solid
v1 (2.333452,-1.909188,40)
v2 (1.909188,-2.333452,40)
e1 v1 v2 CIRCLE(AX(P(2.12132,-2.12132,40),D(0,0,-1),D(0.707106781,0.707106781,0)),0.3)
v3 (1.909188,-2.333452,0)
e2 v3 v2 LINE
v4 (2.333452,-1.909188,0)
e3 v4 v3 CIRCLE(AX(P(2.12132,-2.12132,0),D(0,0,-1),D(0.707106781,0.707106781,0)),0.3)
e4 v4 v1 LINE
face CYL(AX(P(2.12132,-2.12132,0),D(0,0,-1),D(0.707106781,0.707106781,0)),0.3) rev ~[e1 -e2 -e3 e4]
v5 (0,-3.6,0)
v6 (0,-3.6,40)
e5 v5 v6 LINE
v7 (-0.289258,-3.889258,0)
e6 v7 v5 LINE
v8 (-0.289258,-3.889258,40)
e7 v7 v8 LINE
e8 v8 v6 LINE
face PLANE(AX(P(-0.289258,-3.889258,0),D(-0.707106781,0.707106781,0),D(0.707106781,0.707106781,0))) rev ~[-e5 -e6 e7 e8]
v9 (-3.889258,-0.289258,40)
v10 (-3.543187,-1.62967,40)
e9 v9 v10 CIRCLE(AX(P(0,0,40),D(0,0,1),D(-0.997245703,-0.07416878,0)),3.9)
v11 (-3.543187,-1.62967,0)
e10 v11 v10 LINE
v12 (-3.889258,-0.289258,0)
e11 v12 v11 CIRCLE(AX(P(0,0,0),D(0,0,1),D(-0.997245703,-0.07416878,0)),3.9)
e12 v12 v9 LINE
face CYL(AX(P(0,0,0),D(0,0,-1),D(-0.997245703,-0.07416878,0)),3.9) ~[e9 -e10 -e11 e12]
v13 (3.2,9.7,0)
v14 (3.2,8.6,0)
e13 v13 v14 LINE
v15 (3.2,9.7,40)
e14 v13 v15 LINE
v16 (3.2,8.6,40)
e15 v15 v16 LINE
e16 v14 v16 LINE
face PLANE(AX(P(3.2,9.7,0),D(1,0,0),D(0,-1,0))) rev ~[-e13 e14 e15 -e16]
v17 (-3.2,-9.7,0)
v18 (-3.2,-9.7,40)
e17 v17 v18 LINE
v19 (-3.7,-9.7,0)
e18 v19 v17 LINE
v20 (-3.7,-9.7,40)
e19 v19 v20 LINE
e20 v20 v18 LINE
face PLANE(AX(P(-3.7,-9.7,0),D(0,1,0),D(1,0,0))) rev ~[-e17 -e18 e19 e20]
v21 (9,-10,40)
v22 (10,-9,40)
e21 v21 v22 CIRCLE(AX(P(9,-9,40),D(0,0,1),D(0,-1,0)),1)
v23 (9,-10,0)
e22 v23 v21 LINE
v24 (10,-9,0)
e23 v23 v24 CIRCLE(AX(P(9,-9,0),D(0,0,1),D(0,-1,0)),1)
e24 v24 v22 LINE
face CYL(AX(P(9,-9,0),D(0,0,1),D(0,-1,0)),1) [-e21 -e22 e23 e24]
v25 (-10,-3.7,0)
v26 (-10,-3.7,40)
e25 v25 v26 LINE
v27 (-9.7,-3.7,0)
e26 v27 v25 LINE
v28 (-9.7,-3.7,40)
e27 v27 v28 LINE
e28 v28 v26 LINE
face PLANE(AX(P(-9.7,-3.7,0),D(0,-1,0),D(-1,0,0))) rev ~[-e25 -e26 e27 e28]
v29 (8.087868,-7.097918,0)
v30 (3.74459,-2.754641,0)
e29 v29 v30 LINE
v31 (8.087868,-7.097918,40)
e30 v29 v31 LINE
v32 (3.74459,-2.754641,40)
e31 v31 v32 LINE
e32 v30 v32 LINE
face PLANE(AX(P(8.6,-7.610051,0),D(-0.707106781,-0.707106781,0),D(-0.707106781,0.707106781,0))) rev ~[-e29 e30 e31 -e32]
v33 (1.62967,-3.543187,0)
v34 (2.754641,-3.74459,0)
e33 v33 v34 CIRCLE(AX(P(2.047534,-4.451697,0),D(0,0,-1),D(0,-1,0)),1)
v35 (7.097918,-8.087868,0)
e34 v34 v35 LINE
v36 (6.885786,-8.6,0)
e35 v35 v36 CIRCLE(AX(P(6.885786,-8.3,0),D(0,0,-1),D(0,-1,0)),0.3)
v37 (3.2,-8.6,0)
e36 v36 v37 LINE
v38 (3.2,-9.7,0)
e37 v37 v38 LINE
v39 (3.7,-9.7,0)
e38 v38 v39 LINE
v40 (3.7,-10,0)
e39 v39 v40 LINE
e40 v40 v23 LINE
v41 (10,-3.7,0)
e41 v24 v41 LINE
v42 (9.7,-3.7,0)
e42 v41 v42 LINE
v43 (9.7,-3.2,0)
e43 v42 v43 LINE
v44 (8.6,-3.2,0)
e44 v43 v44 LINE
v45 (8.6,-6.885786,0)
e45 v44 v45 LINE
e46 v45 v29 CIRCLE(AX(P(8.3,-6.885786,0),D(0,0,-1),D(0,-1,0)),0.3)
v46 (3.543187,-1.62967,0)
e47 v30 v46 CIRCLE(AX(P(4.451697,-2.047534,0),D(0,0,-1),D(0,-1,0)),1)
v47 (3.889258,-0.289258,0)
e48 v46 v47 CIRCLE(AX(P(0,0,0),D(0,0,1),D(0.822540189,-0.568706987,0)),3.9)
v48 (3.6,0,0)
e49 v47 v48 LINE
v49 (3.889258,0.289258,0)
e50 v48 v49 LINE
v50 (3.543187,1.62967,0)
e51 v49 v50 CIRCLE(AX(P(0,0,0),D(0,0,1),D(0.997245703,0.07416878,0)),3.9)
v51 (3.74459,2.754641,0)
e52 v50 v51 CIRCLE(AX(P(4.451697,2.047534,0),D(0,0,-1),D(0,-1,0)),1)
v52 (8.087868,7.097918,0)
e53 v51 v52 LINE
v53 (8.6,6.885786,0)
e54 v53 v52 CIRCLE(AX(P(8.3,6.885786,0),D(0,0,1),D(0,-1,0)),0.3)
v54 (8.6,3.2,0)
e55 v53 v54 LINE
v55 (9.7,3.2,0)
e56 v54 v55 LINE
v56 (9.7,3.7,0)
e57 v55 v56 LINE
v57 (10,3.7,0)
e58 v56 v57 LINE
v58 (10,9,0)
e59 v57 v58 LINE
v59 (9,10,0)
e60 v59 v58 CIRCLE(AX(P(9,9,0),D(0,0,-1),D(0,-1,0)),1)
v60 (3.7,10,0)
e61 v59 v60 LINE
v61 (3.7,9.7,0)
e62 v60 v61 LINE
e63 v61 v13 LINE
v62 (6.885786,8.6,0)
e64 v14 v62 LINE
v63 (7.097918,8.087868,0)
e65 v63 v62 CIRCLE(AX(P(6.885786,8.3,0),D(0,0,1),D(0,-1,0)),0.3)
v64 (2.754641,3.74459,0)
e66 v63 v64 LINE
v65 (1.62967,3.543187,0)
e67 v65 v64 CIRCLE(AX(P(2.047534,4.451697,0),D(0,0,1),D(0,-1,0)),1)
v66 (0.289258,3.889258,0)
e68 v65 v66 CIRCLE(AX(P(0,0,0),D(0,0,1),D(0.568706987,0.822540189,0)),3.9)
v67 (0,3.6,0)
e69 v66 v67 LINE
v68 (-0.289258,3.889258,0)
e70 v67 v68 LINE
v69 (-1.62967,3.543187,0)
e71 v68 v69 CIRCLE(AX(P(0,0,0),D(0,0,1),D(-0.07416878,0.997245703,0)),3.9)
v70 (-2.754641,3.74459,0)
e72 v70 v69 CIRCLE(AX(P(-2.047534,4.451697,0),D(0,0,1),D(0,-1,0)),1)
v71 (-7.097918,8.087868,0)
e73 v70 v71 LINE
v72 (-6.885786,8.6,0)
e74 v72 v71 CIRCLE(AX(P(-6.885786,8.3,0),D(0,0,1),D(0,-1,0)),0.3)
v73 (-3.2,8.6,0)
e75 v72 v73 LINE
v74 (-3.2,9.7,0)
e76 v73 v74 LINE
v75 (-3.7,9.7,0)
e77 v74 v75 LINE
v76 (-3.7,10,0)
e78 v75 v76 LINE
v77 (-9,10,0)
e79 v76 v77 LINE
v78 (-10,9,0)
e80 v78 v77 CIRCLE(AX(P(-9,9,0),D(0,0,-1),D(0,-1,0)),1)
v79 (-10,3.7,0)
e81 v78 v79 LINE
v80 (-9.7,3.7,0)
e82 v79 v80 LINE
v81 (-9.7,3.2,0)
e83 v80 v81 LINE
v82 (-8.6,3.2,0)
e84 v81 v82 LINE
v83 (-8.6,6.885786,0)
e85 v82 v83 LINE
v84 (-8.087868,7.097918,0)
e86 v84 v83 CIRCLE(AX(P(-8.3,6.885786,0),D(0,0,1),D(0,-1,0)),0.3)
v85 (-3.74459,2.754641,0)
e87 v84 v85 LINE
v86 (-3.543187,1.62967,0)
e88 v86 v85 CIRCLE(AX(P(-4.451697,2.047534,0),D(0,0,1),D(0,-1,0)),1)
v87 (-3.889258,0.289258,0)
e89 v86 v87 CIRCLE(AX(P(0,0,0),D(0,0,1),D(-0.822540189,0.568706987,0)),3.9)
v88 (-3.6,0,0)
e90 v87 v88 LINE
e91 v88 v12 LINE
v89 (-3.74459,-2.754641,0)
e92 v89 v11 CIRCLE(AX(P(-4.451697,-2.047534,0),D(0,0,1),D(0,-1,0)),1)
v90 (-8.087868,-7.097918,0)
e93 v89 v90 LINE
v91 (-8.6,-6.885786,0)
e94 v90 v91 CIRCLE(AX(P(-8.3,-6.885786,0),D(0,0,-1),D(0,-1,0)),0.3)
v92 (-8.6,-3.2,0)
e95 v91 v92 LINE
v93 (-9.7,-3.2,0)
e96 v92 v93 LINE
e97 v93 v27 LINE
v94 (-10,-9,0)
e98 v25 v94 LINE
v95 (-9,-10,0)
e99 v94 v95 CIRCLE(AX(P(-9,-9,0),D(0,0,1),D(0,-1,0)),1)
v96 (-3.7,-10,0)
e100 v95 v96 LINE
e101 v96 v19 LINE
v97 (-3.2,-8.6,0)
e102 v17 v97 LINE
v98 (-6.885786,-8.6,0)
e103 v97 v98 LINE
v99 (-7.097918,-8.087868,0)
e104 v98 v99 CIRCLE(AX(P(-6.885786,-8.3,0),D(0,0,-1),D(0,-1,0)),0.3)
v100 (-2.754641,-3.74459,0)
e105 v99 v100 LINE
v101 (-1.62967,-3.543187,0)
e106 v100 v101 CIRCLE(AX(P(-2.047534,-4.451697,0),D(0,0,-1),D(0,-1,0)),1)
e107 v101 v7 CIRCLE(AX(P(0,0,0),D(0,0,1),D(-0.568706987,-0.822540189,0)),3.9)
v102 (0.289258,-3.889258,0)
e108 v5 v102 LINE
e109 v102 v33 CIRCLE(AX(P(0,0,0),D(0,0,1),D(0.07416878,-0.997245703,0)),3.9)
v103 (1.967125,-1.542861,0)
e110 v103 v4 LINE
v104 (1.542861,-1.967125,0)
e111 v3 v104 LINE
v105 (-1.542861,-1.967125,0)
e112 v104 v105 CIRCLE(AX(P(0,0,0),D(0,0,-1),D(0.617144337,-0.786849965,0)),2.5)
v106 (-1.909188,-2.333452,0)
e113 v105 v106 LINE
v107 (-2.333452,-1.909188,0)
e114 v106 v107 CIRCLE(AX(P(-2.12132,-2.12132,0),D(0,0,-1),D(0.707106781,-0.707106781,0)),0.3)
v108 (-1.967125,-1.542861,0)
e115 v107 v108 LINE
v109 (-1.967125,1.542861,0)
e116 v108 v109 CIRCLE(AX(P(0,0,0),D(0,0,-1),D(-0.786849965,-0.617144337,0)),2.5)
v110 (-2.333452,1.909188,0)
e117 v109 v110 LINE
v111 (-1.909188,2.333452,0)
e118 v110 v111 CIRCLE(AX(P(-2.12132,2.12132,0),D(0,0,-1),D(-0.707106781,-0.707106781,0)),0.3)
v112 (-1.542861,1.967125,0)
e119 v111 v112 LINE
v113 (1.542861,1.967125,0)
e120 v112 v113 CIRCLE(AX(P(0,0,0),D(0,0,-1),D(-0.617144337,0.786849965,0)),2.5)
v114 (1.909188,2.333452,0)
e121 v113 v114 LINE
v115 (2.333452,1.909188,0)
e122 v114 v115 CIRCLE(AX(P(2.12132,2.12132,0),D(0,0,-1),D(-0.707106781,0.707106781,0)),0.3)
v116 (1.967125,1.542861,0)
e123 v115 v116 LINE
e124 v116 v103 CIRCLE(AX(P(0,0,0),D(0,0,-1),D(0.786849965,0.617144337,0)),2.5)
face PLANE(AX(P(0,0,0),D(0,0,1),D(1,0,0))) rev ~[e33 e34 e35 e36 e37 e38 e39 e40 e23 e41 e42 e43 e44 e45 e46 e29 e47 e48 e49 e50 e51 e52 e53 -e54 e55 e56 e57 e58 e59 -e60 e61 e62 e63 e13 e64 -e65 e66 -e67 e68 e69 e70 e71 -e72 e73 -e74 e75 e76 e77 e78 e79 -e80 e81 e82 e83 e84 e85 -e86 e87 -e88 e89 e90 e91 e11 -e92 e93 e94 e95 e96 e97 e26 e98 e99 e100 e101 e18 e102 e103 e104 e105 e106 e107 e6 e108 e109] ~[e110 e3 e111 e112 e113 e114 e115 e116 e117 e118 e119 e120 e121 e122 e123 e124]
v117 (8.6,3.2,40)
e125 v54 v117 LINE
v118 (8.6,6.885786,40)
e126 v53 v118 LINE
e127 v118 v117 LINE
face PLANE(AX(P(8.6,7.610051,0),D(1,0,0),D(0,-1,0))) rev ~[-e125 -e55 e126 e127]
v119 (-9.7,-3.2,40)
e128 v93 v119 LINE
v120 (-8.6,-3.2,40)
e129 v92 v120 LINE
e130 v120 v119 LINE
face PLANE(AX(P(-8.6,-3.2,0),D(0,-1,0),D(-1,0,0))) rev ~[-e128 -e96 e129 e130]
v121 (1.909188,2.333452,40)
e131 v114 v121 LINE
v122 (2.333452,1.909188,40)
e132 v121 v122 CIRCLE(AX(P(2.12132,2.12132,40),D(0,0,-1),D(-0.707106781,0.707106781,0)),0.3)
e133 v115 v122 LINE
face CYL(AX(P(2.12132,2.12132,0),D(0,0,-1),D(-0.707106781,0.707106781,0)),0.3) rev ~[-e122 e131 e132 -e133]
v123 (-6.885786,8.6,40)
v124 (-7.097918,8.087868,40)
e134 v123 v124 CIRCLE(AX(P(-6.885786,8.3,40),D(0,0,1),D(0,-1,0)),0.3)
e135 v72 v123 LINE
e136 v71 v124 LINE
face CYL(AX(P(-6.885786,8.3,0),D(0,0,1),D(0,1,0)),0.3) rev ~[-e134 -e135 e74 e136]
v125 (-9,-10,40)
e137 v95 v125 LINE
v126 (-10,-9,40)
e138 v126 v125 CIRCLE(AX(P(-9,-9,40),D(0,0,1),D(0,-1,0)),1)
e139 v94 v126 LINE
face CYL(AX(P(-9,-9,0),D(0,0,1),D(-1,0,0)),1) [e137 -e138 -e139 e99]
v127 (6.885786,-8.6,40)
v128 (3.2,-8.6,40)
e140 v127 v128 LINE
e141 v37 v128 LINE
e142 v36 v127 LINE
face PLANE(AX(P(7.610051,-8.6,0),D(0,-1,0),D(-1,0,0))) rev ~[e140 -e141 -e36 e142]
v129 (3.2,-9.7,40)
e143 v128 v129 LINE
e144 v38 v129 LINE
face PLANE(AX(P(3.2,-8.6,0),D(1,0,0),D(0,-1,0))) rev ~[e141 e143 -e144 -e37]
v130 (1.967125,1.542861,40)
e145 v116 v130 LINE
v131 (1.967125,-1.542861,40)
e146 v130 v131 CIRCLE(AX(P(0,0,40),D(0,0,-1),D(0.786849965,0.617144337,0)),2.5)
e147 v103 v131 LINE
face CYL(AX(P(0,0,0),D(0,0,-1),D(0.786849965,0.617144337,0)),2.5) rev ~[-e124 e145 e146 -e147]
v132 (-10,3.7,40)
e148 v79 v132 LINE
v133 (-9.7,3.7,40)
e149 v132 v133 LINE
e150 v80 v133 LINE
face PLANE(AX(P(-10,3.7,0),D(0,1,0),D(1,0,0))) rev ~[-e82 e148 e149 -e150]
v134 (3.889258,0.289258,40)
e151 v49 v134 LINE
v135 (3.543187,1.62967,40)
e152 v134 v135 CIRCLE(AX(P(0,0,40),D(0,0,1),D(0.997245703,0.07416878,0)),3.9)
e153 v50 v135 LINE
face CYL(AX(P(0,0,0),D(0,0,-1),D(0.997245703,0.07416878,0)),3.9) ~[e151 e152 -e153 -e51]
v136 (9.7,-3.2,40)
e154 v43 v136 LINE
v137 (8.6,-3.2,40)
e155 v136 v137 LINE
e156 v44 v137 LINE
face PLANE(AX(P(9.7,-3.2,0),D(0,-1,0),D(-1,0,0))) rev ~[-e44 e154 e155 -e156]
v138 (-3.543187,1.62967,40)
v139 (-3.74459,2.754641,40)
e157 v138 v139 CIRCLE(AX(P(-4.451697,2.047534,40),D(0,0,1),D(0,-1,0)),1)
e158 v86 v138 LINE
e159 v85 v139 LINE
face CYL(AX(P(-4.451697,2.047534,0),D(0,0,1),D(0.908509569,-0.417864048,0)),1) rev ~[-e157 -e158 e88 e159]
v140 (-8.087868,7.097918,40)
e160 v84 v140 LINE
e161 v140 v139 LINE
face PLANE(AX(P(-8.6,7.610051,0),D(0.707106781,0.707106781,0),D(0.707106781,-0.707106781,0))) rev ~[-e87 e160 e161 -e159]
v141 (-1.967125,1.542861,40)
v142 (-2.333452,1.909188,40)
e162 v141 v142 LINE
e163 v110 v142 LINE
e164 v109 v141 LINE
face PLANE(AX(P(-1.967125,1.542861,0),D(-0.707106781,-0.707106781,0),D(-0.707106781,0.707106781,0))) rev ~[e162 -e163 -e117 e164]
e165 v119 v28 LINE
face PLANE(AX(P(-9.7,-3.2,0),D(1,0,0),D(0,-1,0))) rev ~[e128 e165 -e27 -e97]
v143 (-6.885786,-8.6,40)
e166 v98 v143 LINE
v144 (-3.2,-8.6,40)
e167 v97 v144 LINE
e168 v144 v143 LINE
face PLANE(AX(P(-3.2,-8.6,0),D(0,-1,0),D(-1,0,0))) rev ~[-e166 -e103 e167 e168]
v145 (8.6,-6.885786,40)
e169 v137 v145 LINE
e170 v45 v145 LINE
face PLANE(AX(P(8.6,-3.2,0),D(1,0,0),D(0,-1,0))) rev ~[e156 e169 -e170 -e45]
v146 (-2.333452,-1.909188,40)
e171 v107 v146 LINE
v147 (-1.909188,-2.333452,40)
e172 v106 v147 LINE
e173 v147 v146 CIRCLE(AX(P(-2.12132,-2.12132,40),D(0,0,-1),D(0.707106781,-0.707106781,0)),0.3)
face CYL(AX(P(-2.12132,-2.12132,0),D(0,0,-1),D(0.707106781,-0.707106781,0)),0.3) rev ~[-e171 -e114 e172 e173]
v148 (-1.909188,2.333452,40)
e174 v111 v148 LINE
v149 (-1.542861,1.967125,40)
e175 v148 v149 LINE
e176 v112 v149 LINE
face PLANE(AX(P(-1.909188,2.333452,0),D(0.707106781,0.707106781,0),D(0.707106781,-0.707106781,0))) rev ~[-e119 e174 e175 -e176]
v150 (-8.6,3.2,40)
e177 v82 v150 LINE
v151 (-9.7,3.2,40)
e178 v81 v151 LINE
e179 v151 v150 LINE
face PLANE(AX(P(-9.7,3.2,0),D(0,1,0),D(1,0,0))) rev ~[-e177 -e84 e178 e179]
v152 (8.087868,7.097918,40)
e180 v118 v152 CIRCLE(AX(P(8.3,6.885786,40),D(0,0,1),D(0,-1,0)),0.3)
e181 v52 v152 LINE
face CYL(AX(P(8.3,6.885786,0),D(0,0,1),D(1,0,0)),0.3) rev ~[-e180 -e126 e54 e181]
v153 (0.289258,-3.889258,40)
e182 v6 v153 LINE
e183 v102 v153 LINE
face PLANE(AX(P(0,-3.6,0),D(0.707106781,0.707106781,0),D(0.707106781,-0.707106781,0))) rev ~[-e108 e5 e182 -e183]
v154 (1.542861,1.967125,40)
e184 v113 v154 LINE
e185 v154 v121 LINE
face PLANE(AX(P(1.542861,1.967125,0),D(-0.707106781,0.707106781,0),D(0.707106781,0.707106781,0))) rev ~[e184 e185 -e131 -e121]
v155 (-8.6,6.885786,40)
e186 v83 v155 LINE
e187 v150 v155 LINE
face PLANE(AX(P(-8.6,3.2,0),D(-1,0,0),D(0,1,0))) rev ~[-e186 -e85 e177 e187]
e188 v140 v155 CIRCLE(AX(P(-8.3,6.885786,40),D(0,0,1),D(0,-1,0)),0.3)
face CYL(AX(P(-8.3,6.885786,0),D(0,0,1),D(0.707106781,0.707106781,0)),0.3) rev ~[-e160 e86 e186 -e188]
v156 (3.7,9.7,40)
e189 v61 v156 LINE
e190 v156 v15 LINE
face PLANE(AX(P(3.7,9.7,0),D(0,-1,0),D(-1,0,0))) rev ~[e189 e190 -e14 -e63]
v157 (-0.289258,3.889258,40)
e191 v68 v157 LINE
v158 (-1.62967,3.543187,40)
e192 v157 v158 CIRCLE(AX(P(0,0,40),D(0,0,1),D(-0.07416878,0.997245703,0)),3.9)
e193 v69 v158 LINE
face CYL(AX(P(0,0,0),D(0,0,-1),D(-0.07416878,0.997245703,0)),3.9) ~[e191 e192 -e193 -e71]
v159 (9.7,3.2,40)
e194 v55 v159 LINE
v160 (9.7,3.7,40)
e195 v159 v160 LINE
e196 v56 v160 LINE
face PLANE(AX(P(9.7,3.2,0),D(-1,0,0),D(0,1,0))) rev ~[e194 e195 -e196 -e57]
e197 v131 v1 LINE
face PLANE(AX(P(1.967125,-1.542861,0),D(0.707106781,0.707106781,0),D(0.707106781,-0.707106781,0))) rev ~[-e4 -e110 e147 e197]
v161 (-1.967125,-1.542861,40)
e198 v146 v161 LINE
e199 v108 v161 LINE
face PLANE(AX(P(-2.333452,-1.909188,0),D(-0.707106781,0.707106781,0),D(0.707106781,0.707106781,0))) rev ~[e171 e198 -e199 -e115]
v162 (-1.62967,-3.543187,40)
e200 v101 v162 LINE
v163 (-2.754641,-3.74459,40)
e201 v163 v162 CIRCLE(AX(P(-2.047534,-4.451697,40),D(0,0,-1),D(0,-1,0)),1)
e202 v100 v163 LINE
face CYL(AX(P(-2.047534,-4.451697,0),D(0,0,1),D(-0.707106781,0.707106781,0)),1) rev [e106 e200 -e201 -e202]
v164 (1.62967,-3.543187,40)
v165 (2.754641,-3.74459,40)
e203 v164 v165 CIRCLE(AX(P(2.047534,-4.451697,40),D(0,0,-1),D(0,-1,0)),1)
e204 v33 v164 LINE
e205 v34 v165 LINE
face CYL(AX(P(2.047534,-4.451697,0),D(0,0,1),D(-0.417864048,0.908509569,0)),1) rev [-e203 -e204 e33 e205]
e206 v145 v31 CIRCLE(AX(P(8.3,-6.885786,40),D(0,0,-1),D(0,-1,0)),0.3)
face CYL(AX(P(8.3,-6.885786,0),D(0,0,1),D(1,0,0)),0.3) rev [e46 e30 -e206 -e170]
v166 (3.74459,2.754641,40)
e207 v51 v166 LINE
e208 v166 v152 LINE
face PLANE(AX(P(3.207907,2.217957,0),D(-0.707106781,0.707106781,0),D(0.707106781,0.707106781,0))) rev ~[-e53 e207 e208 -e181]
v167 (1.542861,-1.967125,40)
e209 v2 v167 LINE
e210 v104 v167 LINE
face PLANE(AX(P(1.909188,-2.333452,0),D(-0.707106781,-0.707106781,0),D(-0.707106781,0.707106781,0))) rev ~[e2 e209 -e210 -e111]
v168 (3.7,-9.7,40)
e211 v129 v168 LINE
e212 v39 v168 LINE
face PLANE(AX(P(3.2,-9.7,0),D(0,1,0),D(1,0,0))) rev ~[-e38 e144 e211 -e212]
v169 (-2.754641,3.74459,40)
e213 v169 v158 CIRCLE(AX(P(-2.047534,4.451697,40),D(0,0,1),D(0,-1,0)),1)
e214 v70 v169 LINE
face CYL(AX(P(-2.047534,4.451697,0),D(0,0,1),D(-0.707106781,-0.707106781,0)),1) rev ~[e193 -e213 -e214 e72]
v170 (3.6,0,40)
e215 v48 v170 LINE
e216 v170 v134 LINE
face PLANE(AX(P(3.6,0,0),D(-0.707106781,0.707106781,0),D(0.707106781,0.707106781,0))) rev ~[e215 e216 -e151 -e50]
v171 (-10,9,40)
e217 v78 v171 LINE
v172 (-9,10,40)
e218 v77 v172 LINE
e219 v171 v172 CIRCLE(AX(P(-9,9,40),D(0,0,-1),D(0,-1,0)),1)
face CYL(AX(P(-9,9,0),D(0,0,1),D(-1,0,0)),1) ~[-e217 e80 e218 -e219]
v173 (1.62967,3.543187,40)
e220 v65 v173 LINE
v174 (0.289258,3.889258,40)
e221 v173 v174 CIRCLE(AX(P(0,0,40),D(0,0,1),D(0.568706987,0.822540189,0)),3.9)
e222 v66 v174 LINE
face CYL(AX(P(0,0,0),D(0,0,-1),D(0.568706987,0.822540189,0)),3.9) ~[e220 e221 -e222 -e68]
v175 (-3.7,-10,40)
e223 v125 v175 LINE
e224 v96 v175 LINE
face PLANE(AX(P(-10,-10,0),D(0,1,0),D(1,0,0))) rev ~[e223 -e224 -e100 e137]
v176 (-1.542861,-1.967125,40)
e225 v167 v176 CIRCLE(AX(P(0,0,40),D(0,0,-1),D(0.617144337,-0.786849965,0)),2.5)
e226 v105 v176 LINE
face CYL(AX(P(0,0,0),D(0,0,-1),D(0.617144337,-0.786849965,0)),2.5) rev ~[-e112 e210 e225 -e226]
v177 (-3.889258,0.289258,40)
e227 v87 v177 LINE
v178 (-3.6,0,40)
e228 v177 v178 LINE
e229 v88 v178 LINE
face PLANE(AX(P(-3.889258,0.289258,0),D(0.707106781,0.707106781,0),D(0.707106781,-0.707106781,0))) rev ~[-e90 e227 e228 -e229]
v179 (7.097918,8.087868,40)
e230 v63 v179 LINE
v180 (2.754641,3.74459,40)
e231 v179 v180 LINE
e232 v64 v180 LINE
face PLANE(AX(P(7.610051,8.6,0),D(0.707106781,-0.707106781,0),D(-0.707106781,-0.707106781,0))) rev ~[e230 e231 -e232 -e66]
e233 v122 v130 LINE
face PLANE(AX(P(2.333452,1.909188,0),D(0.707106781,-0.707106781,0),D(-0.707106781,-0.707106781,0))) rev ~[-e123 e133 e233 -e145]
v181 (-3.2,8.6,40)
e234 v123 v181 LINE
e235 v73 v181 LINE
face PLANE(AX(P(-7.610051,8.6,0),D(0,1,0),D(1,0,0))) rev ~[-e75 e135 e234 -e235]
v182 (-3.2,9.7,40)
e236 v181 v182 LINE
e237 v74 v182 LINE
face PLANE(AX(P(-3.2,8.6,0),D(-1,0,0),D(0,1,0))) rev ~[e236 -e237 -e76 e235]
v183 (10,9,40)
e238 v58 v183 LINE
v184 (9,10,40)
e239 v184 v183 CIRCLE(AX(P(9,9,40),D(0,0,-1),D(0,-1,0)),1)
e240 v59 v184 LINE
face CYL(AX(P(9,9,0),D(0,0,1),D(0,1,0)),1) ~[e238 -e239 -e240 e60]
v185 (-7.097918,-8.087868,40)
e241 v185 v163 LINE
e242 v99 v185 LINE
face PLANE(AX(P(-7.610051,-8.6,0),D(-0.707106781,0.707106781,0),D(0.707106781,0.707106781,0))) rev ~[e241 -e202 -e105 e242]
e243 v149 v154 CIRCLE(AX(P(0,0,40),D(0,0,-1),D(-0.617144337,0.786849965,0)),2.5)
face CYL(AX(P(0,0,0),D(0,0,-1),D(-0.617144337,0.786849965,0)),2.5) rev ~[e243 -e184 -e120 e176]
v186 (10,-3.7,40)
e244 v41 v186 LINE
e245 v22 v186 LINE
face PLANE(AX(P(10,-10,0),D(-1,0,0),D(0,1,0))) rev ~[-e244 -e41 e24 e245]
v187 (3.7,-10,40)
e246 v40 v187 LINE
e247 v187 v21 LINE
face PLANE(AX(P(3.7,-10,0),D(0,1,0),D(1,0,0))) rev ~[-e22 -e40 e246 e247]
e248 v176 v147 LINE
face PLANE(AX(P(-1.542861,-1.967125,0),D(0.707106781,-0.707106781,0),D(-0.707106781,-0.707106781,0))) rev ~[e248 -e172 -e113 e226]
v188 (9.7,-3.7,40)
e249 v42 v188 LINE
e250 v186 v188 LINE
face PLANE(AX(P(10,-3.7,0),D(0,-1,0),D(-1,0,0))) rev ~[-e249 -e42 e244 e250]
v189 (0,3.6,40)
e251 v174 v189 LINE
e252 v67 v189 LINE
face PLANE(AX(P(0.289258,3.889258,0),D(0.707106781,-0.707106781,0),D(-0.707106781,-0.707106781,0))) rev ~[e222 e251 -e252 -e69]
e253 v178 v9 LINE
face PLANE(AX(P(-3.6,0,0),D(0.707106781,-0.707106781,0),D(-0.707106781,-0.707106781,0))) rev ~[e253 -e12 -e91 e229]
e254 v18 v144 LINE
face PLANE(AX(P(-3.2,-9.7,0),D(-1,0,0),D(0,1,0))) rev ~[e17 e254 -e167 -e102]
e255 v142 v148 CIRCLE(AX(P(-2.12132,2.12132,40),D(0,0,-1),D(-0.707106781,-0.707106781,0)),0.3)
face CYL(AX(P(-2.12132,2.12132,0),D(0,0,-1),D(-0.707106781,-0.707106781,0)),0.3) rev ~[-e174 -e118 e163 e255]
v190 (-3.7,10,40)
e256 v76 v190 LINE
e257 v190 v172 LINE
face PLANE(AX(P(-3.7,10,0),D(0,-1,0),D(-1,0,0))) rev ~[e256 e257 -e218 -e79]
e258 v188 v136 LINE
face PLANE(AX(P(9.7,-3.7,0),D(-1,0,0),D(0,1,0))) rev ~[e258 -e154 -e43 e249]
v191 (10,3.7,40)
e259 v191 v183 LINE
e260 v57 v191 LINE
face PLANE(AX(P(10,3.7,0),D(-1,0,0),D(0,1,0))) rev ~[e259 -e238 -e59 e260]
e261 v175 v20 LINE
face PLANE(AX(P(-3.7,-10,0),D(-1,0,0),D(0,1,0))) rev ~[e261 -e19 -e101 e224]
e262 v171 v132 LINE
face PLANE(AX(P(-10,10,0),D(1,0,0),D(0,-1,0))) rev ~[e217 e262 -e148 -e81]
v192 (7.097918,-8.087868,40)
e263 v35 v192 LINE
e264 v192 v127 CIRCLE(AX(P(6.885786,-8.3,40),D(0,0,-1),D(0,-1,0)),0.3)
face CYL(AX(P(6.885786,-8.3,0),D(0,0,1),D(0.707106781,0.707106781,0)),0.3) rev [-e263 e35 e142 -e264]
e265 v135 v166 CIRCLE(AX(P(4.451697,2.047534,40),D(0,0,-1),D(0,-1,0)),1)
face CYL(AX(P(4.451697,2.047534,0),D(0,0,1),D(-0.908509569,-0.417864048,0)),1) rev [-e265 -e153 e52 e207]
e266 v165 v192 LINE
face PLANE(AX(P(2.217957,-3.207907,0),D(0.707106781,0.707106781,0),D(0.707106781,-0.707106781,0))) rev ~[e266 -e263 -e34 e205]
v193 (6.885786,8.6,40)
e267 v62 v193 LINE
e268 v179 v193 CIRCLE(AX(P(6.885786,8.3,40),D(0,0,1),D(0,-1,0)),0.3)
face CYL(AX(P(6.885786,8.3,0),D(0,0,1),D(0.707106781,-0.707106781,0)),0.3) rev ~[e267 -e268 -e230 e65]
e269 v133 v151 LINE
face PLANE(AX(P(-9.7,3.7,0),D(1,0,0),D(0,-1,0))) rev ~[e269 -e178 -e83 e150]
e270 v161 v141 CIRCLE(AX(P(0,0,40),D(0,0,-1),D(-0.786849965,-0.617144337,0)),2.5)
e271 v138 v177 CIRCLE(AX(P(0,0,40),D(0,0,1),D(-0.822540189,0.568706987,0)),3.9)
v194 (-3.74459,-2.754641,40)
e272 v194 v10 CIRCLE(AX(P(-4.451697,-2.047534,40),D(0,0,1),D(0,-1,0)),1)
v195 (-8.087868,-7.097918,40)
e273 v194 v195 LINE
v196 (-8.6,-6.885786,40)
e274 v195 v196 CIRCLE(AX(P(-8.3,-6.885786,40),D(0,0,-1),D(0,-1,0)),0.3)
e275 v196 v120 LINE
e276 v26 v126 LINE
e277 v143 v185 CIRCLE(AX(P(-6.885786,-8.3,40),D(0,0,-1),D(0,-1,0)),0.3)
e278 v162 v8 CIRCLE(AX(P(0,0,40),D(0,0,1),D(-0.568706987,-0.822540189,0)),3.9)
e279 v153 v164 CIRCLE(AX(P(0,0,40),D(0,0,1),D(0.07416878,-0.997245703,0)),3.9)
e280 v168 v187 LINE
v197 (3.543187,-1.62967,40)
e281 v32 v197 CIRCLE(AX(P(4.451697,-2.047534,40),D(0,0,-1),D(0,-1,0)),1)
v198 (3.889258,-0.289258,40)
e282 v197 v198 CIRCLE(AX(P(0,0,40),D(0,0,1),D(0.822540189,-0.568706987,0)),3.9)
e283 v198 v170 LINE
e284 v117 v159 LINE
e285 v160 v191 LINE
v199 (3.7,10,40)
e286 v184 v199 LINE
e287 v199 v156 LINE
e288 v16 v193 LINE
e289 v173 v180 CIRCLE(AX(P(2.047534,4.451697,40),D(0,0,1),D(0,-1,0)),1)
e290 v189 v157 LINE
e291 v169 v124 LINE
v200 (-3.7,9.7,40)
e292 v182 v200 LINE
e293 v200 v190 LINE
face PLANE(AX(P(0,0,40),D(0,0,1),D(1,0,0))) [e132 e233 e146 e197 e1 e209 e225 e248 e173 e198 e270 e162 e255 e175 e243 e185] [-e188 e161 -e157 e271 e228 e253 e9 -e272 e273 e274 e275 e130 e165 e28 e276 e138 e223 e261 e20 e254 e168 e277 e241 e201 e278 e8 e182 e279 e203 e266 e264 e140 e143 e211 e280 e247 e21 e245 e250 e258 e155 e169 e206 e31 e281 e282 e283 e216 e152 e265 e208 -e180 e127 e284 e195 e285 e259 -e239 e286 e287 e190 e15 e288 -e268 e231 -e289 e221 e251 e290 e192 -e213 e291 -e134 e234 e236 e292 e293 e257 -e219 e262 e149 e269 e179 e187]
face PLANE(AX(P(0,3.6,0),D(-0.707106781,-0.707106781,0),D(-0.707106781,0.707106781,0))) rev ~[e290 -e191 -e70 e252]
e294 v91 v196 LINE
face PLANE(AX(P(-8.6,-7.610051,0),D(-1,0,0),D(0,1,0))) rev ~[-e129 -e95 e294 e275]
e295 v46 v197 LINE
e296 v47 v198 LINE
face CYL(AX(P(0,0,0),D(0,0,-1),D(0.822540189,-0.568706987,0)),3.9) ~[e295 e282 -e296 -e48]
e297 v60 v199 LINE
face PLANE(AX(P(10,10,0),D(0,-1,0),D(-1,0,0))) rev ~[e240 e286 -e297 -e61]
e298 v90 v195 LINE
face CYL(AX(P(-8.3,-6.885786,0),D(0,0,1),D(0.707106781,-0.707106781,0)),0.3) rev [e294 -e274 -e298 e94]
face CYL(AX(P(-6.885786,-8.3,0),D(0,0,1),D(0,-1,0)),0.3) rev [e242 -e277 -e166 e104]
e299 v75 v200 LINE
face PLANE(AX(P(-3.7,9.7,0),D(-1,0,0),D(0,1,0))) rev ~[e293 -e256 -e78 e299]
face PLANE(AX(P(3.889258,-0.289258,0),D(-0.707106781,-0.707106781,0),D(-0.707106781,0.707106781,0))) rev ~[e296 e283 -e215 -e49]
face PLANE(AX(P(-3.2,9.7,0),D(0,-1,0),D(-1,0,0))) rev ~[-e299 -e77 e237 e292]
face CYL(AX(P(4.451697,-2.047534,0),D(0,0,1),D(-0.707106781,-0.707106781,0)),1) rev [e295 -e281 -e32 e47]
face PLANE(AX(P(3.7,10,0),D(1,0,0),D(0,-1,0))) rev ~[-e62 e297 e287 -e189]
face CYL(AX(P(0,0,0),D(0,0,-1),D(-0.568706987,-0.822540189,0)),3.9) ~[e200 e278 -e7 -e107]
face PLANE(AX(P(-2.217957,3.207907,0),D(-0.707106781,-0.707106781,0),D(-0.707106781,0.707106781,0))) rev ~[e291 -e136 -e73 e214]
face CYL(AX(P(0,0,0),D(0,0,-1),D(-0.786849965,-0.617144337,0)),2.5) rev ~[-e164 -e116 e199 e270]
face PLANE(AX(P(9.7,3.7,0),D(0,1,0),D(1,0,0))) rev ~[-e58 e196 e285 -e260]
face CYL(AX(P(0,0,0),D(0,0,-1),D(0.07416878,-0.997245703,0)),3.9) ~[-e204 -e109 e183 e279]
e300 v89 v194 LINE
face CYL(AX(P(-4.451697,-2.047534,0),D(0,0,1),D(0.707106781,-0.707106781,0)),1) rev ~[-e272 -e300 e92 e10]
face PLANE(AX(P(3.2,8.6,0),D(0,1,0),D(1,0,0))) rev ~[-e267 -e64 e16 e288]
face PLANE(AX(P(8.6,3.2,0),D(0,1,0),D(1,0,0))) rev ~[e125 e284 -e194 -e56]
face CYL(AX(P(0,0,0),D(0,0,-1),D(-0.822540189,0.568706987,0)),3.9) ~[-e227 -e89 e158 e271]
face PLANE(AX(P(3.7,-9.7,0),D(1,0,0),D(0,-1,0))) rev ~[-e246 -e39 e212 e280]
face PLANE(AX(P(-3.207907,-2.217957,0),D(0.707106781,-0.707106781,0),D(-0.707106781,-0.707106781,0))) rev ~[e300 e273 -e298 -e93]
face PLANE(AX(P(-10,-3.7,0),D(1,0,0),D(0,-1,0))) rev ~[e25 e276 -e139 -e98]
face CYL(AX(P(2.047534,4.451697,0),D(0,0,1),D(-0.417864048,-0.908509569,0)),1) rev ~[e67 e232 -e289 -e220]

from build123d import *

# Parameters (mm, degrees)
Y_KSEKLIK_EKSTR_ZYON1_DEPTH = 40
RADYUS1_R                   = 1
RADYUS2_R                   = 0.3
RADYUS3_R                   = 1


with BuildPart() as part:
    # Çizim1 → Yükseklik-Ekstrüzyon1 (new body)
    with BuildSketch(Plane.XY):
        with BuildLine():
            Line((-8.6, -3.2), (-9.7, -3.2))
            Line((-9.7, -3.2), (-9.7, -3.7))
            Line((-9.7, -3.7), (-10, -3.7))
            Line((-10, -3.7), (-10, -10))
            Line((-10, -10), (-3.7, -10))
            Line((-3.7, -10), (-3.7, -9.7))
            Line((-3.7, -9.7), (-3.2, -9.7))
            Line((-3.2, -9.7), (-3.2, -8.6))
            Line((-3.2, -8.6), (-7.610050506, -8.6))
            Line((-7.610050506, -8.6), (-2.217957246, -3.20790674))
            ThreePointArc((-2.217957246, -3.20790674), (-1.299073648, -3.677282646), (-0.289258242, -3.889258242))
            Line((-0.289258242, -3.889258242), (0, -3.6))
            Line((0, -3.6), (0.289258242, -3.889258242))
            ThreePointArc((0.289258242, -3.889258242), (1.299073648, -3.677282646), (2.217957246, -3.20790674))
            Line((2.217957246, -3.20790674), (7.610050506, -8.6))
            Line((7.610050506, -8.6), (3.2, -8.6))
            Line((3.2, -8.6), (3.2, -9.7))
            Line((3.2, -9.7), (3.7, -9.7))
            Line((3.7, -9.7), (3.7, -10))
            Line((3.7, -10), (10, -10))
            Line((10, -10), (10, -3.7))
            Line((10, -3.7), (9.7, -3.7))
            Line((9.7, -3.7), (9.7, -3.2))
            Line((9.7, -3.2), (8.6, -3.2))
            Line((8.6, -3.2), (8.6, -7.610050506))
            Line((8.6, -7.610050506), (3.20790674, -2.217957246))
            ThreePointArc((3.20790674, -2.217957246), (3.677282646, -1.299073648), (3.889258242, -0.289258242))
            Line((3.889258242, -0.289258242), (3.6, 0))
            Line((3.6, 0), (3.889258242, 0.289258242))
            ThreePointArc((3.889258242, 0.289258242), (3.677282646, 1.299073648), (3.20790674, 2.217957246))
            Line((3.20790674, 2.217957246), (8.6, 7.610050506))
            Line((8.6, 7.610050506), (8.6, 3.2))
            Line((8.6, 3.2), (9.7, 3.2))
            Line((9.7, 3.2), (9.7, 3.7))
            Line((9.7, 3.7), (10, 3.7))
            Line((10, 3.7), (10, 10))
            Line((10, 10), (3.7, 10))
            Line((3.7, 10), (3.7, 9.7))
            Line((3.7, 9.7), (3.2, 9.7))
            Line((3.2, 9.7), (3.2, 8.6))
            Line((3.2, 8.6), (7.610050506, 8.6))
            Line((7.610050506, 8.6), (2.217957246, 3.20790674))
            ThreePointArc((2.217957246, 3.20790674), (1.299073648, 3.677282646), (0.289258242, 3.889258242))
            Line((0.289258242, 3.889258242), (0, 3.6))
            Line((0, 3.6), (-0.289258242, 3.889258242))
            ThreePointArc((-0.289258242, 3.889258242), (-1.299073648, 3.677282646), (-2.217957246, 3.20790674))
            Line((-2.217957246, 3.20790674), (-7.610050506, 8.6))
            Line((-7.610050506, 8.6), (-3.2, 8.6))
            Line((-3.2, 8.6), (-3.2, 9.7))
            Line((-3.2, 9.7), (-3.7, 9.7))
            Line((-3.7, 9.7), (-3.7, 10))
            Line((-3.7, 10), (-10, 10))
            Line((-10, 10), (-10, 3.7))
            Line((-10, 3.7), (-9.7, 3.7))
            Line((-9.7, 3.7), (-9.7, 3.2))
            Line((-9.7, 3.2), (-8.6, 3.2))
            Line((-8.6, 3.2), (-8.6, 7.610050506))
            Line((-8.6, 7.610050506), (-3.20790674, 2.217957246))
            ThreePointArc((-3.20790674, 2.217957246), (-3.677282646, 1.299073648), (-3.889258242, 0.289258242))
            Line((-3.889258242, 0.289258242), (-3.6, 0))
            Line((-3.6, 0), (-3.889258242, -0.289258242))
            ThreePointArc((-3.889258242, -0.289258242), (-3.677282646, -1.299073648), (-3.20790674, -2.217957246))
            Line((-3.20790674, -2.217957246), (-8.6, -7.610050506))
            Line((-8.6, -7.610050506), (-8.6, -3.2))
        make_face()
        with BuildLine():
            Line((1.967124912, -1.542860843), (2.333452378, -1.909188309))
            ThreePointArc((2.333452378, -1.909188309), (2.333452378, -2.333452378), (1.909188309, -2.333452378))
            Line((1.909188309, -2.333452378), (1.542860843, -1.967124912))
            ThreePointArc((1.542860843, -1.967124912), (0, -2.5), (-1.542860843, -1.967124912))
            Line((-1.542860843, -1.967124912), (-1.909188309, -2.333452378))
            ThreePointArc((-1.909188309, -2.333452378), (-2.333452378, -2.333452378), (-2.333452378, -1.909188309))
            Line((-2.333452378, -1.909188309), (-1.967124912, -1.542860843))
            ThreePointArc((-1.967124912, -1.542860843), (-2.5, 0), (-1.967124912, 1.542860843))
            Line((-1.967124912, 1.542860843), (-2.333452378, 1.909188309))
            ThreePointArc((-2.333452378, 1.909188309), (-2.333452378, 2.333452378), (-1.909188309, 2.333452378))
            Line((-1.909188309, 2.333452378), (-1.542860843, 1.967124912))
            ThreePointArc((-1.542860843, 1.967124912), (0, 2.5), (1.542860843, 1.967124912))
            Line((1.542860843, 1.967124912), (1.909188309, 2.333452378))
            ThreePointArc((1.909188309, 2.333452378), (2.333452378, 2.333452378), (2.333452378, 1.909188309))
            Line((2.333452378, 1.909188309), (1.967124912, 1.542860843))
            ThreePointArc((1.967124912, 1.542860843), (2.5, 0), (1.967124912, -1.542860843))
        make_face(mode=Mode.SUBTRACT)
    extrude(amount=Y_KSEKLIK_EKSTR_ZYON1_DEPTH)

    # Radyus1
    radyus1_edges = [part.edges().sort_by_distance(p)[0] for p in [
        (-2.217957246, -3.20790674, 20),
        (-3.20790674, -2.217957246, 20),
        (-3.20790674, 2.217957246, 20),
        (-2.217957246, 3.20790674, 20),
        (2.217957246, 3.20790674, 20),
        (3.20790674, 2.217957246, 20),
        (3.20790674, -2.217957246, 20),
        (2.217957246, -3.20790674, 20),
    ]]
    fillet(radyus1_edges, radius=RADYUS1_R)

    # Radyus2
    radyus2_edges = [part.edges().sort_by_distance(p)[0] for p in [
        (-7.610050506, -8.6, 20),
        (-8.6, -7.610050506, 20),
        (-8.6, 7.610050506, 20),
        (-7.610050506, 8.6, 20),
        (7.610050506, 8.6, 20),
        (8.6, 7.610050506, 20),
        (8.6, -7.610050506, 20),
        (7.610050506, -8.6, 20),
    ]]
    fillet(radyus2_edges, radius=RADYUS2_R)

    # Radyus3
    radyus3_edges = [part.edges().sort_by_distance(p)[0] for p in [
        (-10, -10, 20),
        (-10, 10, 20),
        (10, 10, 20),
        (10, -10, 20),
    ]]
    fillet(radyus3_edges, radius=RADYUS3_R)


solid = part.part
